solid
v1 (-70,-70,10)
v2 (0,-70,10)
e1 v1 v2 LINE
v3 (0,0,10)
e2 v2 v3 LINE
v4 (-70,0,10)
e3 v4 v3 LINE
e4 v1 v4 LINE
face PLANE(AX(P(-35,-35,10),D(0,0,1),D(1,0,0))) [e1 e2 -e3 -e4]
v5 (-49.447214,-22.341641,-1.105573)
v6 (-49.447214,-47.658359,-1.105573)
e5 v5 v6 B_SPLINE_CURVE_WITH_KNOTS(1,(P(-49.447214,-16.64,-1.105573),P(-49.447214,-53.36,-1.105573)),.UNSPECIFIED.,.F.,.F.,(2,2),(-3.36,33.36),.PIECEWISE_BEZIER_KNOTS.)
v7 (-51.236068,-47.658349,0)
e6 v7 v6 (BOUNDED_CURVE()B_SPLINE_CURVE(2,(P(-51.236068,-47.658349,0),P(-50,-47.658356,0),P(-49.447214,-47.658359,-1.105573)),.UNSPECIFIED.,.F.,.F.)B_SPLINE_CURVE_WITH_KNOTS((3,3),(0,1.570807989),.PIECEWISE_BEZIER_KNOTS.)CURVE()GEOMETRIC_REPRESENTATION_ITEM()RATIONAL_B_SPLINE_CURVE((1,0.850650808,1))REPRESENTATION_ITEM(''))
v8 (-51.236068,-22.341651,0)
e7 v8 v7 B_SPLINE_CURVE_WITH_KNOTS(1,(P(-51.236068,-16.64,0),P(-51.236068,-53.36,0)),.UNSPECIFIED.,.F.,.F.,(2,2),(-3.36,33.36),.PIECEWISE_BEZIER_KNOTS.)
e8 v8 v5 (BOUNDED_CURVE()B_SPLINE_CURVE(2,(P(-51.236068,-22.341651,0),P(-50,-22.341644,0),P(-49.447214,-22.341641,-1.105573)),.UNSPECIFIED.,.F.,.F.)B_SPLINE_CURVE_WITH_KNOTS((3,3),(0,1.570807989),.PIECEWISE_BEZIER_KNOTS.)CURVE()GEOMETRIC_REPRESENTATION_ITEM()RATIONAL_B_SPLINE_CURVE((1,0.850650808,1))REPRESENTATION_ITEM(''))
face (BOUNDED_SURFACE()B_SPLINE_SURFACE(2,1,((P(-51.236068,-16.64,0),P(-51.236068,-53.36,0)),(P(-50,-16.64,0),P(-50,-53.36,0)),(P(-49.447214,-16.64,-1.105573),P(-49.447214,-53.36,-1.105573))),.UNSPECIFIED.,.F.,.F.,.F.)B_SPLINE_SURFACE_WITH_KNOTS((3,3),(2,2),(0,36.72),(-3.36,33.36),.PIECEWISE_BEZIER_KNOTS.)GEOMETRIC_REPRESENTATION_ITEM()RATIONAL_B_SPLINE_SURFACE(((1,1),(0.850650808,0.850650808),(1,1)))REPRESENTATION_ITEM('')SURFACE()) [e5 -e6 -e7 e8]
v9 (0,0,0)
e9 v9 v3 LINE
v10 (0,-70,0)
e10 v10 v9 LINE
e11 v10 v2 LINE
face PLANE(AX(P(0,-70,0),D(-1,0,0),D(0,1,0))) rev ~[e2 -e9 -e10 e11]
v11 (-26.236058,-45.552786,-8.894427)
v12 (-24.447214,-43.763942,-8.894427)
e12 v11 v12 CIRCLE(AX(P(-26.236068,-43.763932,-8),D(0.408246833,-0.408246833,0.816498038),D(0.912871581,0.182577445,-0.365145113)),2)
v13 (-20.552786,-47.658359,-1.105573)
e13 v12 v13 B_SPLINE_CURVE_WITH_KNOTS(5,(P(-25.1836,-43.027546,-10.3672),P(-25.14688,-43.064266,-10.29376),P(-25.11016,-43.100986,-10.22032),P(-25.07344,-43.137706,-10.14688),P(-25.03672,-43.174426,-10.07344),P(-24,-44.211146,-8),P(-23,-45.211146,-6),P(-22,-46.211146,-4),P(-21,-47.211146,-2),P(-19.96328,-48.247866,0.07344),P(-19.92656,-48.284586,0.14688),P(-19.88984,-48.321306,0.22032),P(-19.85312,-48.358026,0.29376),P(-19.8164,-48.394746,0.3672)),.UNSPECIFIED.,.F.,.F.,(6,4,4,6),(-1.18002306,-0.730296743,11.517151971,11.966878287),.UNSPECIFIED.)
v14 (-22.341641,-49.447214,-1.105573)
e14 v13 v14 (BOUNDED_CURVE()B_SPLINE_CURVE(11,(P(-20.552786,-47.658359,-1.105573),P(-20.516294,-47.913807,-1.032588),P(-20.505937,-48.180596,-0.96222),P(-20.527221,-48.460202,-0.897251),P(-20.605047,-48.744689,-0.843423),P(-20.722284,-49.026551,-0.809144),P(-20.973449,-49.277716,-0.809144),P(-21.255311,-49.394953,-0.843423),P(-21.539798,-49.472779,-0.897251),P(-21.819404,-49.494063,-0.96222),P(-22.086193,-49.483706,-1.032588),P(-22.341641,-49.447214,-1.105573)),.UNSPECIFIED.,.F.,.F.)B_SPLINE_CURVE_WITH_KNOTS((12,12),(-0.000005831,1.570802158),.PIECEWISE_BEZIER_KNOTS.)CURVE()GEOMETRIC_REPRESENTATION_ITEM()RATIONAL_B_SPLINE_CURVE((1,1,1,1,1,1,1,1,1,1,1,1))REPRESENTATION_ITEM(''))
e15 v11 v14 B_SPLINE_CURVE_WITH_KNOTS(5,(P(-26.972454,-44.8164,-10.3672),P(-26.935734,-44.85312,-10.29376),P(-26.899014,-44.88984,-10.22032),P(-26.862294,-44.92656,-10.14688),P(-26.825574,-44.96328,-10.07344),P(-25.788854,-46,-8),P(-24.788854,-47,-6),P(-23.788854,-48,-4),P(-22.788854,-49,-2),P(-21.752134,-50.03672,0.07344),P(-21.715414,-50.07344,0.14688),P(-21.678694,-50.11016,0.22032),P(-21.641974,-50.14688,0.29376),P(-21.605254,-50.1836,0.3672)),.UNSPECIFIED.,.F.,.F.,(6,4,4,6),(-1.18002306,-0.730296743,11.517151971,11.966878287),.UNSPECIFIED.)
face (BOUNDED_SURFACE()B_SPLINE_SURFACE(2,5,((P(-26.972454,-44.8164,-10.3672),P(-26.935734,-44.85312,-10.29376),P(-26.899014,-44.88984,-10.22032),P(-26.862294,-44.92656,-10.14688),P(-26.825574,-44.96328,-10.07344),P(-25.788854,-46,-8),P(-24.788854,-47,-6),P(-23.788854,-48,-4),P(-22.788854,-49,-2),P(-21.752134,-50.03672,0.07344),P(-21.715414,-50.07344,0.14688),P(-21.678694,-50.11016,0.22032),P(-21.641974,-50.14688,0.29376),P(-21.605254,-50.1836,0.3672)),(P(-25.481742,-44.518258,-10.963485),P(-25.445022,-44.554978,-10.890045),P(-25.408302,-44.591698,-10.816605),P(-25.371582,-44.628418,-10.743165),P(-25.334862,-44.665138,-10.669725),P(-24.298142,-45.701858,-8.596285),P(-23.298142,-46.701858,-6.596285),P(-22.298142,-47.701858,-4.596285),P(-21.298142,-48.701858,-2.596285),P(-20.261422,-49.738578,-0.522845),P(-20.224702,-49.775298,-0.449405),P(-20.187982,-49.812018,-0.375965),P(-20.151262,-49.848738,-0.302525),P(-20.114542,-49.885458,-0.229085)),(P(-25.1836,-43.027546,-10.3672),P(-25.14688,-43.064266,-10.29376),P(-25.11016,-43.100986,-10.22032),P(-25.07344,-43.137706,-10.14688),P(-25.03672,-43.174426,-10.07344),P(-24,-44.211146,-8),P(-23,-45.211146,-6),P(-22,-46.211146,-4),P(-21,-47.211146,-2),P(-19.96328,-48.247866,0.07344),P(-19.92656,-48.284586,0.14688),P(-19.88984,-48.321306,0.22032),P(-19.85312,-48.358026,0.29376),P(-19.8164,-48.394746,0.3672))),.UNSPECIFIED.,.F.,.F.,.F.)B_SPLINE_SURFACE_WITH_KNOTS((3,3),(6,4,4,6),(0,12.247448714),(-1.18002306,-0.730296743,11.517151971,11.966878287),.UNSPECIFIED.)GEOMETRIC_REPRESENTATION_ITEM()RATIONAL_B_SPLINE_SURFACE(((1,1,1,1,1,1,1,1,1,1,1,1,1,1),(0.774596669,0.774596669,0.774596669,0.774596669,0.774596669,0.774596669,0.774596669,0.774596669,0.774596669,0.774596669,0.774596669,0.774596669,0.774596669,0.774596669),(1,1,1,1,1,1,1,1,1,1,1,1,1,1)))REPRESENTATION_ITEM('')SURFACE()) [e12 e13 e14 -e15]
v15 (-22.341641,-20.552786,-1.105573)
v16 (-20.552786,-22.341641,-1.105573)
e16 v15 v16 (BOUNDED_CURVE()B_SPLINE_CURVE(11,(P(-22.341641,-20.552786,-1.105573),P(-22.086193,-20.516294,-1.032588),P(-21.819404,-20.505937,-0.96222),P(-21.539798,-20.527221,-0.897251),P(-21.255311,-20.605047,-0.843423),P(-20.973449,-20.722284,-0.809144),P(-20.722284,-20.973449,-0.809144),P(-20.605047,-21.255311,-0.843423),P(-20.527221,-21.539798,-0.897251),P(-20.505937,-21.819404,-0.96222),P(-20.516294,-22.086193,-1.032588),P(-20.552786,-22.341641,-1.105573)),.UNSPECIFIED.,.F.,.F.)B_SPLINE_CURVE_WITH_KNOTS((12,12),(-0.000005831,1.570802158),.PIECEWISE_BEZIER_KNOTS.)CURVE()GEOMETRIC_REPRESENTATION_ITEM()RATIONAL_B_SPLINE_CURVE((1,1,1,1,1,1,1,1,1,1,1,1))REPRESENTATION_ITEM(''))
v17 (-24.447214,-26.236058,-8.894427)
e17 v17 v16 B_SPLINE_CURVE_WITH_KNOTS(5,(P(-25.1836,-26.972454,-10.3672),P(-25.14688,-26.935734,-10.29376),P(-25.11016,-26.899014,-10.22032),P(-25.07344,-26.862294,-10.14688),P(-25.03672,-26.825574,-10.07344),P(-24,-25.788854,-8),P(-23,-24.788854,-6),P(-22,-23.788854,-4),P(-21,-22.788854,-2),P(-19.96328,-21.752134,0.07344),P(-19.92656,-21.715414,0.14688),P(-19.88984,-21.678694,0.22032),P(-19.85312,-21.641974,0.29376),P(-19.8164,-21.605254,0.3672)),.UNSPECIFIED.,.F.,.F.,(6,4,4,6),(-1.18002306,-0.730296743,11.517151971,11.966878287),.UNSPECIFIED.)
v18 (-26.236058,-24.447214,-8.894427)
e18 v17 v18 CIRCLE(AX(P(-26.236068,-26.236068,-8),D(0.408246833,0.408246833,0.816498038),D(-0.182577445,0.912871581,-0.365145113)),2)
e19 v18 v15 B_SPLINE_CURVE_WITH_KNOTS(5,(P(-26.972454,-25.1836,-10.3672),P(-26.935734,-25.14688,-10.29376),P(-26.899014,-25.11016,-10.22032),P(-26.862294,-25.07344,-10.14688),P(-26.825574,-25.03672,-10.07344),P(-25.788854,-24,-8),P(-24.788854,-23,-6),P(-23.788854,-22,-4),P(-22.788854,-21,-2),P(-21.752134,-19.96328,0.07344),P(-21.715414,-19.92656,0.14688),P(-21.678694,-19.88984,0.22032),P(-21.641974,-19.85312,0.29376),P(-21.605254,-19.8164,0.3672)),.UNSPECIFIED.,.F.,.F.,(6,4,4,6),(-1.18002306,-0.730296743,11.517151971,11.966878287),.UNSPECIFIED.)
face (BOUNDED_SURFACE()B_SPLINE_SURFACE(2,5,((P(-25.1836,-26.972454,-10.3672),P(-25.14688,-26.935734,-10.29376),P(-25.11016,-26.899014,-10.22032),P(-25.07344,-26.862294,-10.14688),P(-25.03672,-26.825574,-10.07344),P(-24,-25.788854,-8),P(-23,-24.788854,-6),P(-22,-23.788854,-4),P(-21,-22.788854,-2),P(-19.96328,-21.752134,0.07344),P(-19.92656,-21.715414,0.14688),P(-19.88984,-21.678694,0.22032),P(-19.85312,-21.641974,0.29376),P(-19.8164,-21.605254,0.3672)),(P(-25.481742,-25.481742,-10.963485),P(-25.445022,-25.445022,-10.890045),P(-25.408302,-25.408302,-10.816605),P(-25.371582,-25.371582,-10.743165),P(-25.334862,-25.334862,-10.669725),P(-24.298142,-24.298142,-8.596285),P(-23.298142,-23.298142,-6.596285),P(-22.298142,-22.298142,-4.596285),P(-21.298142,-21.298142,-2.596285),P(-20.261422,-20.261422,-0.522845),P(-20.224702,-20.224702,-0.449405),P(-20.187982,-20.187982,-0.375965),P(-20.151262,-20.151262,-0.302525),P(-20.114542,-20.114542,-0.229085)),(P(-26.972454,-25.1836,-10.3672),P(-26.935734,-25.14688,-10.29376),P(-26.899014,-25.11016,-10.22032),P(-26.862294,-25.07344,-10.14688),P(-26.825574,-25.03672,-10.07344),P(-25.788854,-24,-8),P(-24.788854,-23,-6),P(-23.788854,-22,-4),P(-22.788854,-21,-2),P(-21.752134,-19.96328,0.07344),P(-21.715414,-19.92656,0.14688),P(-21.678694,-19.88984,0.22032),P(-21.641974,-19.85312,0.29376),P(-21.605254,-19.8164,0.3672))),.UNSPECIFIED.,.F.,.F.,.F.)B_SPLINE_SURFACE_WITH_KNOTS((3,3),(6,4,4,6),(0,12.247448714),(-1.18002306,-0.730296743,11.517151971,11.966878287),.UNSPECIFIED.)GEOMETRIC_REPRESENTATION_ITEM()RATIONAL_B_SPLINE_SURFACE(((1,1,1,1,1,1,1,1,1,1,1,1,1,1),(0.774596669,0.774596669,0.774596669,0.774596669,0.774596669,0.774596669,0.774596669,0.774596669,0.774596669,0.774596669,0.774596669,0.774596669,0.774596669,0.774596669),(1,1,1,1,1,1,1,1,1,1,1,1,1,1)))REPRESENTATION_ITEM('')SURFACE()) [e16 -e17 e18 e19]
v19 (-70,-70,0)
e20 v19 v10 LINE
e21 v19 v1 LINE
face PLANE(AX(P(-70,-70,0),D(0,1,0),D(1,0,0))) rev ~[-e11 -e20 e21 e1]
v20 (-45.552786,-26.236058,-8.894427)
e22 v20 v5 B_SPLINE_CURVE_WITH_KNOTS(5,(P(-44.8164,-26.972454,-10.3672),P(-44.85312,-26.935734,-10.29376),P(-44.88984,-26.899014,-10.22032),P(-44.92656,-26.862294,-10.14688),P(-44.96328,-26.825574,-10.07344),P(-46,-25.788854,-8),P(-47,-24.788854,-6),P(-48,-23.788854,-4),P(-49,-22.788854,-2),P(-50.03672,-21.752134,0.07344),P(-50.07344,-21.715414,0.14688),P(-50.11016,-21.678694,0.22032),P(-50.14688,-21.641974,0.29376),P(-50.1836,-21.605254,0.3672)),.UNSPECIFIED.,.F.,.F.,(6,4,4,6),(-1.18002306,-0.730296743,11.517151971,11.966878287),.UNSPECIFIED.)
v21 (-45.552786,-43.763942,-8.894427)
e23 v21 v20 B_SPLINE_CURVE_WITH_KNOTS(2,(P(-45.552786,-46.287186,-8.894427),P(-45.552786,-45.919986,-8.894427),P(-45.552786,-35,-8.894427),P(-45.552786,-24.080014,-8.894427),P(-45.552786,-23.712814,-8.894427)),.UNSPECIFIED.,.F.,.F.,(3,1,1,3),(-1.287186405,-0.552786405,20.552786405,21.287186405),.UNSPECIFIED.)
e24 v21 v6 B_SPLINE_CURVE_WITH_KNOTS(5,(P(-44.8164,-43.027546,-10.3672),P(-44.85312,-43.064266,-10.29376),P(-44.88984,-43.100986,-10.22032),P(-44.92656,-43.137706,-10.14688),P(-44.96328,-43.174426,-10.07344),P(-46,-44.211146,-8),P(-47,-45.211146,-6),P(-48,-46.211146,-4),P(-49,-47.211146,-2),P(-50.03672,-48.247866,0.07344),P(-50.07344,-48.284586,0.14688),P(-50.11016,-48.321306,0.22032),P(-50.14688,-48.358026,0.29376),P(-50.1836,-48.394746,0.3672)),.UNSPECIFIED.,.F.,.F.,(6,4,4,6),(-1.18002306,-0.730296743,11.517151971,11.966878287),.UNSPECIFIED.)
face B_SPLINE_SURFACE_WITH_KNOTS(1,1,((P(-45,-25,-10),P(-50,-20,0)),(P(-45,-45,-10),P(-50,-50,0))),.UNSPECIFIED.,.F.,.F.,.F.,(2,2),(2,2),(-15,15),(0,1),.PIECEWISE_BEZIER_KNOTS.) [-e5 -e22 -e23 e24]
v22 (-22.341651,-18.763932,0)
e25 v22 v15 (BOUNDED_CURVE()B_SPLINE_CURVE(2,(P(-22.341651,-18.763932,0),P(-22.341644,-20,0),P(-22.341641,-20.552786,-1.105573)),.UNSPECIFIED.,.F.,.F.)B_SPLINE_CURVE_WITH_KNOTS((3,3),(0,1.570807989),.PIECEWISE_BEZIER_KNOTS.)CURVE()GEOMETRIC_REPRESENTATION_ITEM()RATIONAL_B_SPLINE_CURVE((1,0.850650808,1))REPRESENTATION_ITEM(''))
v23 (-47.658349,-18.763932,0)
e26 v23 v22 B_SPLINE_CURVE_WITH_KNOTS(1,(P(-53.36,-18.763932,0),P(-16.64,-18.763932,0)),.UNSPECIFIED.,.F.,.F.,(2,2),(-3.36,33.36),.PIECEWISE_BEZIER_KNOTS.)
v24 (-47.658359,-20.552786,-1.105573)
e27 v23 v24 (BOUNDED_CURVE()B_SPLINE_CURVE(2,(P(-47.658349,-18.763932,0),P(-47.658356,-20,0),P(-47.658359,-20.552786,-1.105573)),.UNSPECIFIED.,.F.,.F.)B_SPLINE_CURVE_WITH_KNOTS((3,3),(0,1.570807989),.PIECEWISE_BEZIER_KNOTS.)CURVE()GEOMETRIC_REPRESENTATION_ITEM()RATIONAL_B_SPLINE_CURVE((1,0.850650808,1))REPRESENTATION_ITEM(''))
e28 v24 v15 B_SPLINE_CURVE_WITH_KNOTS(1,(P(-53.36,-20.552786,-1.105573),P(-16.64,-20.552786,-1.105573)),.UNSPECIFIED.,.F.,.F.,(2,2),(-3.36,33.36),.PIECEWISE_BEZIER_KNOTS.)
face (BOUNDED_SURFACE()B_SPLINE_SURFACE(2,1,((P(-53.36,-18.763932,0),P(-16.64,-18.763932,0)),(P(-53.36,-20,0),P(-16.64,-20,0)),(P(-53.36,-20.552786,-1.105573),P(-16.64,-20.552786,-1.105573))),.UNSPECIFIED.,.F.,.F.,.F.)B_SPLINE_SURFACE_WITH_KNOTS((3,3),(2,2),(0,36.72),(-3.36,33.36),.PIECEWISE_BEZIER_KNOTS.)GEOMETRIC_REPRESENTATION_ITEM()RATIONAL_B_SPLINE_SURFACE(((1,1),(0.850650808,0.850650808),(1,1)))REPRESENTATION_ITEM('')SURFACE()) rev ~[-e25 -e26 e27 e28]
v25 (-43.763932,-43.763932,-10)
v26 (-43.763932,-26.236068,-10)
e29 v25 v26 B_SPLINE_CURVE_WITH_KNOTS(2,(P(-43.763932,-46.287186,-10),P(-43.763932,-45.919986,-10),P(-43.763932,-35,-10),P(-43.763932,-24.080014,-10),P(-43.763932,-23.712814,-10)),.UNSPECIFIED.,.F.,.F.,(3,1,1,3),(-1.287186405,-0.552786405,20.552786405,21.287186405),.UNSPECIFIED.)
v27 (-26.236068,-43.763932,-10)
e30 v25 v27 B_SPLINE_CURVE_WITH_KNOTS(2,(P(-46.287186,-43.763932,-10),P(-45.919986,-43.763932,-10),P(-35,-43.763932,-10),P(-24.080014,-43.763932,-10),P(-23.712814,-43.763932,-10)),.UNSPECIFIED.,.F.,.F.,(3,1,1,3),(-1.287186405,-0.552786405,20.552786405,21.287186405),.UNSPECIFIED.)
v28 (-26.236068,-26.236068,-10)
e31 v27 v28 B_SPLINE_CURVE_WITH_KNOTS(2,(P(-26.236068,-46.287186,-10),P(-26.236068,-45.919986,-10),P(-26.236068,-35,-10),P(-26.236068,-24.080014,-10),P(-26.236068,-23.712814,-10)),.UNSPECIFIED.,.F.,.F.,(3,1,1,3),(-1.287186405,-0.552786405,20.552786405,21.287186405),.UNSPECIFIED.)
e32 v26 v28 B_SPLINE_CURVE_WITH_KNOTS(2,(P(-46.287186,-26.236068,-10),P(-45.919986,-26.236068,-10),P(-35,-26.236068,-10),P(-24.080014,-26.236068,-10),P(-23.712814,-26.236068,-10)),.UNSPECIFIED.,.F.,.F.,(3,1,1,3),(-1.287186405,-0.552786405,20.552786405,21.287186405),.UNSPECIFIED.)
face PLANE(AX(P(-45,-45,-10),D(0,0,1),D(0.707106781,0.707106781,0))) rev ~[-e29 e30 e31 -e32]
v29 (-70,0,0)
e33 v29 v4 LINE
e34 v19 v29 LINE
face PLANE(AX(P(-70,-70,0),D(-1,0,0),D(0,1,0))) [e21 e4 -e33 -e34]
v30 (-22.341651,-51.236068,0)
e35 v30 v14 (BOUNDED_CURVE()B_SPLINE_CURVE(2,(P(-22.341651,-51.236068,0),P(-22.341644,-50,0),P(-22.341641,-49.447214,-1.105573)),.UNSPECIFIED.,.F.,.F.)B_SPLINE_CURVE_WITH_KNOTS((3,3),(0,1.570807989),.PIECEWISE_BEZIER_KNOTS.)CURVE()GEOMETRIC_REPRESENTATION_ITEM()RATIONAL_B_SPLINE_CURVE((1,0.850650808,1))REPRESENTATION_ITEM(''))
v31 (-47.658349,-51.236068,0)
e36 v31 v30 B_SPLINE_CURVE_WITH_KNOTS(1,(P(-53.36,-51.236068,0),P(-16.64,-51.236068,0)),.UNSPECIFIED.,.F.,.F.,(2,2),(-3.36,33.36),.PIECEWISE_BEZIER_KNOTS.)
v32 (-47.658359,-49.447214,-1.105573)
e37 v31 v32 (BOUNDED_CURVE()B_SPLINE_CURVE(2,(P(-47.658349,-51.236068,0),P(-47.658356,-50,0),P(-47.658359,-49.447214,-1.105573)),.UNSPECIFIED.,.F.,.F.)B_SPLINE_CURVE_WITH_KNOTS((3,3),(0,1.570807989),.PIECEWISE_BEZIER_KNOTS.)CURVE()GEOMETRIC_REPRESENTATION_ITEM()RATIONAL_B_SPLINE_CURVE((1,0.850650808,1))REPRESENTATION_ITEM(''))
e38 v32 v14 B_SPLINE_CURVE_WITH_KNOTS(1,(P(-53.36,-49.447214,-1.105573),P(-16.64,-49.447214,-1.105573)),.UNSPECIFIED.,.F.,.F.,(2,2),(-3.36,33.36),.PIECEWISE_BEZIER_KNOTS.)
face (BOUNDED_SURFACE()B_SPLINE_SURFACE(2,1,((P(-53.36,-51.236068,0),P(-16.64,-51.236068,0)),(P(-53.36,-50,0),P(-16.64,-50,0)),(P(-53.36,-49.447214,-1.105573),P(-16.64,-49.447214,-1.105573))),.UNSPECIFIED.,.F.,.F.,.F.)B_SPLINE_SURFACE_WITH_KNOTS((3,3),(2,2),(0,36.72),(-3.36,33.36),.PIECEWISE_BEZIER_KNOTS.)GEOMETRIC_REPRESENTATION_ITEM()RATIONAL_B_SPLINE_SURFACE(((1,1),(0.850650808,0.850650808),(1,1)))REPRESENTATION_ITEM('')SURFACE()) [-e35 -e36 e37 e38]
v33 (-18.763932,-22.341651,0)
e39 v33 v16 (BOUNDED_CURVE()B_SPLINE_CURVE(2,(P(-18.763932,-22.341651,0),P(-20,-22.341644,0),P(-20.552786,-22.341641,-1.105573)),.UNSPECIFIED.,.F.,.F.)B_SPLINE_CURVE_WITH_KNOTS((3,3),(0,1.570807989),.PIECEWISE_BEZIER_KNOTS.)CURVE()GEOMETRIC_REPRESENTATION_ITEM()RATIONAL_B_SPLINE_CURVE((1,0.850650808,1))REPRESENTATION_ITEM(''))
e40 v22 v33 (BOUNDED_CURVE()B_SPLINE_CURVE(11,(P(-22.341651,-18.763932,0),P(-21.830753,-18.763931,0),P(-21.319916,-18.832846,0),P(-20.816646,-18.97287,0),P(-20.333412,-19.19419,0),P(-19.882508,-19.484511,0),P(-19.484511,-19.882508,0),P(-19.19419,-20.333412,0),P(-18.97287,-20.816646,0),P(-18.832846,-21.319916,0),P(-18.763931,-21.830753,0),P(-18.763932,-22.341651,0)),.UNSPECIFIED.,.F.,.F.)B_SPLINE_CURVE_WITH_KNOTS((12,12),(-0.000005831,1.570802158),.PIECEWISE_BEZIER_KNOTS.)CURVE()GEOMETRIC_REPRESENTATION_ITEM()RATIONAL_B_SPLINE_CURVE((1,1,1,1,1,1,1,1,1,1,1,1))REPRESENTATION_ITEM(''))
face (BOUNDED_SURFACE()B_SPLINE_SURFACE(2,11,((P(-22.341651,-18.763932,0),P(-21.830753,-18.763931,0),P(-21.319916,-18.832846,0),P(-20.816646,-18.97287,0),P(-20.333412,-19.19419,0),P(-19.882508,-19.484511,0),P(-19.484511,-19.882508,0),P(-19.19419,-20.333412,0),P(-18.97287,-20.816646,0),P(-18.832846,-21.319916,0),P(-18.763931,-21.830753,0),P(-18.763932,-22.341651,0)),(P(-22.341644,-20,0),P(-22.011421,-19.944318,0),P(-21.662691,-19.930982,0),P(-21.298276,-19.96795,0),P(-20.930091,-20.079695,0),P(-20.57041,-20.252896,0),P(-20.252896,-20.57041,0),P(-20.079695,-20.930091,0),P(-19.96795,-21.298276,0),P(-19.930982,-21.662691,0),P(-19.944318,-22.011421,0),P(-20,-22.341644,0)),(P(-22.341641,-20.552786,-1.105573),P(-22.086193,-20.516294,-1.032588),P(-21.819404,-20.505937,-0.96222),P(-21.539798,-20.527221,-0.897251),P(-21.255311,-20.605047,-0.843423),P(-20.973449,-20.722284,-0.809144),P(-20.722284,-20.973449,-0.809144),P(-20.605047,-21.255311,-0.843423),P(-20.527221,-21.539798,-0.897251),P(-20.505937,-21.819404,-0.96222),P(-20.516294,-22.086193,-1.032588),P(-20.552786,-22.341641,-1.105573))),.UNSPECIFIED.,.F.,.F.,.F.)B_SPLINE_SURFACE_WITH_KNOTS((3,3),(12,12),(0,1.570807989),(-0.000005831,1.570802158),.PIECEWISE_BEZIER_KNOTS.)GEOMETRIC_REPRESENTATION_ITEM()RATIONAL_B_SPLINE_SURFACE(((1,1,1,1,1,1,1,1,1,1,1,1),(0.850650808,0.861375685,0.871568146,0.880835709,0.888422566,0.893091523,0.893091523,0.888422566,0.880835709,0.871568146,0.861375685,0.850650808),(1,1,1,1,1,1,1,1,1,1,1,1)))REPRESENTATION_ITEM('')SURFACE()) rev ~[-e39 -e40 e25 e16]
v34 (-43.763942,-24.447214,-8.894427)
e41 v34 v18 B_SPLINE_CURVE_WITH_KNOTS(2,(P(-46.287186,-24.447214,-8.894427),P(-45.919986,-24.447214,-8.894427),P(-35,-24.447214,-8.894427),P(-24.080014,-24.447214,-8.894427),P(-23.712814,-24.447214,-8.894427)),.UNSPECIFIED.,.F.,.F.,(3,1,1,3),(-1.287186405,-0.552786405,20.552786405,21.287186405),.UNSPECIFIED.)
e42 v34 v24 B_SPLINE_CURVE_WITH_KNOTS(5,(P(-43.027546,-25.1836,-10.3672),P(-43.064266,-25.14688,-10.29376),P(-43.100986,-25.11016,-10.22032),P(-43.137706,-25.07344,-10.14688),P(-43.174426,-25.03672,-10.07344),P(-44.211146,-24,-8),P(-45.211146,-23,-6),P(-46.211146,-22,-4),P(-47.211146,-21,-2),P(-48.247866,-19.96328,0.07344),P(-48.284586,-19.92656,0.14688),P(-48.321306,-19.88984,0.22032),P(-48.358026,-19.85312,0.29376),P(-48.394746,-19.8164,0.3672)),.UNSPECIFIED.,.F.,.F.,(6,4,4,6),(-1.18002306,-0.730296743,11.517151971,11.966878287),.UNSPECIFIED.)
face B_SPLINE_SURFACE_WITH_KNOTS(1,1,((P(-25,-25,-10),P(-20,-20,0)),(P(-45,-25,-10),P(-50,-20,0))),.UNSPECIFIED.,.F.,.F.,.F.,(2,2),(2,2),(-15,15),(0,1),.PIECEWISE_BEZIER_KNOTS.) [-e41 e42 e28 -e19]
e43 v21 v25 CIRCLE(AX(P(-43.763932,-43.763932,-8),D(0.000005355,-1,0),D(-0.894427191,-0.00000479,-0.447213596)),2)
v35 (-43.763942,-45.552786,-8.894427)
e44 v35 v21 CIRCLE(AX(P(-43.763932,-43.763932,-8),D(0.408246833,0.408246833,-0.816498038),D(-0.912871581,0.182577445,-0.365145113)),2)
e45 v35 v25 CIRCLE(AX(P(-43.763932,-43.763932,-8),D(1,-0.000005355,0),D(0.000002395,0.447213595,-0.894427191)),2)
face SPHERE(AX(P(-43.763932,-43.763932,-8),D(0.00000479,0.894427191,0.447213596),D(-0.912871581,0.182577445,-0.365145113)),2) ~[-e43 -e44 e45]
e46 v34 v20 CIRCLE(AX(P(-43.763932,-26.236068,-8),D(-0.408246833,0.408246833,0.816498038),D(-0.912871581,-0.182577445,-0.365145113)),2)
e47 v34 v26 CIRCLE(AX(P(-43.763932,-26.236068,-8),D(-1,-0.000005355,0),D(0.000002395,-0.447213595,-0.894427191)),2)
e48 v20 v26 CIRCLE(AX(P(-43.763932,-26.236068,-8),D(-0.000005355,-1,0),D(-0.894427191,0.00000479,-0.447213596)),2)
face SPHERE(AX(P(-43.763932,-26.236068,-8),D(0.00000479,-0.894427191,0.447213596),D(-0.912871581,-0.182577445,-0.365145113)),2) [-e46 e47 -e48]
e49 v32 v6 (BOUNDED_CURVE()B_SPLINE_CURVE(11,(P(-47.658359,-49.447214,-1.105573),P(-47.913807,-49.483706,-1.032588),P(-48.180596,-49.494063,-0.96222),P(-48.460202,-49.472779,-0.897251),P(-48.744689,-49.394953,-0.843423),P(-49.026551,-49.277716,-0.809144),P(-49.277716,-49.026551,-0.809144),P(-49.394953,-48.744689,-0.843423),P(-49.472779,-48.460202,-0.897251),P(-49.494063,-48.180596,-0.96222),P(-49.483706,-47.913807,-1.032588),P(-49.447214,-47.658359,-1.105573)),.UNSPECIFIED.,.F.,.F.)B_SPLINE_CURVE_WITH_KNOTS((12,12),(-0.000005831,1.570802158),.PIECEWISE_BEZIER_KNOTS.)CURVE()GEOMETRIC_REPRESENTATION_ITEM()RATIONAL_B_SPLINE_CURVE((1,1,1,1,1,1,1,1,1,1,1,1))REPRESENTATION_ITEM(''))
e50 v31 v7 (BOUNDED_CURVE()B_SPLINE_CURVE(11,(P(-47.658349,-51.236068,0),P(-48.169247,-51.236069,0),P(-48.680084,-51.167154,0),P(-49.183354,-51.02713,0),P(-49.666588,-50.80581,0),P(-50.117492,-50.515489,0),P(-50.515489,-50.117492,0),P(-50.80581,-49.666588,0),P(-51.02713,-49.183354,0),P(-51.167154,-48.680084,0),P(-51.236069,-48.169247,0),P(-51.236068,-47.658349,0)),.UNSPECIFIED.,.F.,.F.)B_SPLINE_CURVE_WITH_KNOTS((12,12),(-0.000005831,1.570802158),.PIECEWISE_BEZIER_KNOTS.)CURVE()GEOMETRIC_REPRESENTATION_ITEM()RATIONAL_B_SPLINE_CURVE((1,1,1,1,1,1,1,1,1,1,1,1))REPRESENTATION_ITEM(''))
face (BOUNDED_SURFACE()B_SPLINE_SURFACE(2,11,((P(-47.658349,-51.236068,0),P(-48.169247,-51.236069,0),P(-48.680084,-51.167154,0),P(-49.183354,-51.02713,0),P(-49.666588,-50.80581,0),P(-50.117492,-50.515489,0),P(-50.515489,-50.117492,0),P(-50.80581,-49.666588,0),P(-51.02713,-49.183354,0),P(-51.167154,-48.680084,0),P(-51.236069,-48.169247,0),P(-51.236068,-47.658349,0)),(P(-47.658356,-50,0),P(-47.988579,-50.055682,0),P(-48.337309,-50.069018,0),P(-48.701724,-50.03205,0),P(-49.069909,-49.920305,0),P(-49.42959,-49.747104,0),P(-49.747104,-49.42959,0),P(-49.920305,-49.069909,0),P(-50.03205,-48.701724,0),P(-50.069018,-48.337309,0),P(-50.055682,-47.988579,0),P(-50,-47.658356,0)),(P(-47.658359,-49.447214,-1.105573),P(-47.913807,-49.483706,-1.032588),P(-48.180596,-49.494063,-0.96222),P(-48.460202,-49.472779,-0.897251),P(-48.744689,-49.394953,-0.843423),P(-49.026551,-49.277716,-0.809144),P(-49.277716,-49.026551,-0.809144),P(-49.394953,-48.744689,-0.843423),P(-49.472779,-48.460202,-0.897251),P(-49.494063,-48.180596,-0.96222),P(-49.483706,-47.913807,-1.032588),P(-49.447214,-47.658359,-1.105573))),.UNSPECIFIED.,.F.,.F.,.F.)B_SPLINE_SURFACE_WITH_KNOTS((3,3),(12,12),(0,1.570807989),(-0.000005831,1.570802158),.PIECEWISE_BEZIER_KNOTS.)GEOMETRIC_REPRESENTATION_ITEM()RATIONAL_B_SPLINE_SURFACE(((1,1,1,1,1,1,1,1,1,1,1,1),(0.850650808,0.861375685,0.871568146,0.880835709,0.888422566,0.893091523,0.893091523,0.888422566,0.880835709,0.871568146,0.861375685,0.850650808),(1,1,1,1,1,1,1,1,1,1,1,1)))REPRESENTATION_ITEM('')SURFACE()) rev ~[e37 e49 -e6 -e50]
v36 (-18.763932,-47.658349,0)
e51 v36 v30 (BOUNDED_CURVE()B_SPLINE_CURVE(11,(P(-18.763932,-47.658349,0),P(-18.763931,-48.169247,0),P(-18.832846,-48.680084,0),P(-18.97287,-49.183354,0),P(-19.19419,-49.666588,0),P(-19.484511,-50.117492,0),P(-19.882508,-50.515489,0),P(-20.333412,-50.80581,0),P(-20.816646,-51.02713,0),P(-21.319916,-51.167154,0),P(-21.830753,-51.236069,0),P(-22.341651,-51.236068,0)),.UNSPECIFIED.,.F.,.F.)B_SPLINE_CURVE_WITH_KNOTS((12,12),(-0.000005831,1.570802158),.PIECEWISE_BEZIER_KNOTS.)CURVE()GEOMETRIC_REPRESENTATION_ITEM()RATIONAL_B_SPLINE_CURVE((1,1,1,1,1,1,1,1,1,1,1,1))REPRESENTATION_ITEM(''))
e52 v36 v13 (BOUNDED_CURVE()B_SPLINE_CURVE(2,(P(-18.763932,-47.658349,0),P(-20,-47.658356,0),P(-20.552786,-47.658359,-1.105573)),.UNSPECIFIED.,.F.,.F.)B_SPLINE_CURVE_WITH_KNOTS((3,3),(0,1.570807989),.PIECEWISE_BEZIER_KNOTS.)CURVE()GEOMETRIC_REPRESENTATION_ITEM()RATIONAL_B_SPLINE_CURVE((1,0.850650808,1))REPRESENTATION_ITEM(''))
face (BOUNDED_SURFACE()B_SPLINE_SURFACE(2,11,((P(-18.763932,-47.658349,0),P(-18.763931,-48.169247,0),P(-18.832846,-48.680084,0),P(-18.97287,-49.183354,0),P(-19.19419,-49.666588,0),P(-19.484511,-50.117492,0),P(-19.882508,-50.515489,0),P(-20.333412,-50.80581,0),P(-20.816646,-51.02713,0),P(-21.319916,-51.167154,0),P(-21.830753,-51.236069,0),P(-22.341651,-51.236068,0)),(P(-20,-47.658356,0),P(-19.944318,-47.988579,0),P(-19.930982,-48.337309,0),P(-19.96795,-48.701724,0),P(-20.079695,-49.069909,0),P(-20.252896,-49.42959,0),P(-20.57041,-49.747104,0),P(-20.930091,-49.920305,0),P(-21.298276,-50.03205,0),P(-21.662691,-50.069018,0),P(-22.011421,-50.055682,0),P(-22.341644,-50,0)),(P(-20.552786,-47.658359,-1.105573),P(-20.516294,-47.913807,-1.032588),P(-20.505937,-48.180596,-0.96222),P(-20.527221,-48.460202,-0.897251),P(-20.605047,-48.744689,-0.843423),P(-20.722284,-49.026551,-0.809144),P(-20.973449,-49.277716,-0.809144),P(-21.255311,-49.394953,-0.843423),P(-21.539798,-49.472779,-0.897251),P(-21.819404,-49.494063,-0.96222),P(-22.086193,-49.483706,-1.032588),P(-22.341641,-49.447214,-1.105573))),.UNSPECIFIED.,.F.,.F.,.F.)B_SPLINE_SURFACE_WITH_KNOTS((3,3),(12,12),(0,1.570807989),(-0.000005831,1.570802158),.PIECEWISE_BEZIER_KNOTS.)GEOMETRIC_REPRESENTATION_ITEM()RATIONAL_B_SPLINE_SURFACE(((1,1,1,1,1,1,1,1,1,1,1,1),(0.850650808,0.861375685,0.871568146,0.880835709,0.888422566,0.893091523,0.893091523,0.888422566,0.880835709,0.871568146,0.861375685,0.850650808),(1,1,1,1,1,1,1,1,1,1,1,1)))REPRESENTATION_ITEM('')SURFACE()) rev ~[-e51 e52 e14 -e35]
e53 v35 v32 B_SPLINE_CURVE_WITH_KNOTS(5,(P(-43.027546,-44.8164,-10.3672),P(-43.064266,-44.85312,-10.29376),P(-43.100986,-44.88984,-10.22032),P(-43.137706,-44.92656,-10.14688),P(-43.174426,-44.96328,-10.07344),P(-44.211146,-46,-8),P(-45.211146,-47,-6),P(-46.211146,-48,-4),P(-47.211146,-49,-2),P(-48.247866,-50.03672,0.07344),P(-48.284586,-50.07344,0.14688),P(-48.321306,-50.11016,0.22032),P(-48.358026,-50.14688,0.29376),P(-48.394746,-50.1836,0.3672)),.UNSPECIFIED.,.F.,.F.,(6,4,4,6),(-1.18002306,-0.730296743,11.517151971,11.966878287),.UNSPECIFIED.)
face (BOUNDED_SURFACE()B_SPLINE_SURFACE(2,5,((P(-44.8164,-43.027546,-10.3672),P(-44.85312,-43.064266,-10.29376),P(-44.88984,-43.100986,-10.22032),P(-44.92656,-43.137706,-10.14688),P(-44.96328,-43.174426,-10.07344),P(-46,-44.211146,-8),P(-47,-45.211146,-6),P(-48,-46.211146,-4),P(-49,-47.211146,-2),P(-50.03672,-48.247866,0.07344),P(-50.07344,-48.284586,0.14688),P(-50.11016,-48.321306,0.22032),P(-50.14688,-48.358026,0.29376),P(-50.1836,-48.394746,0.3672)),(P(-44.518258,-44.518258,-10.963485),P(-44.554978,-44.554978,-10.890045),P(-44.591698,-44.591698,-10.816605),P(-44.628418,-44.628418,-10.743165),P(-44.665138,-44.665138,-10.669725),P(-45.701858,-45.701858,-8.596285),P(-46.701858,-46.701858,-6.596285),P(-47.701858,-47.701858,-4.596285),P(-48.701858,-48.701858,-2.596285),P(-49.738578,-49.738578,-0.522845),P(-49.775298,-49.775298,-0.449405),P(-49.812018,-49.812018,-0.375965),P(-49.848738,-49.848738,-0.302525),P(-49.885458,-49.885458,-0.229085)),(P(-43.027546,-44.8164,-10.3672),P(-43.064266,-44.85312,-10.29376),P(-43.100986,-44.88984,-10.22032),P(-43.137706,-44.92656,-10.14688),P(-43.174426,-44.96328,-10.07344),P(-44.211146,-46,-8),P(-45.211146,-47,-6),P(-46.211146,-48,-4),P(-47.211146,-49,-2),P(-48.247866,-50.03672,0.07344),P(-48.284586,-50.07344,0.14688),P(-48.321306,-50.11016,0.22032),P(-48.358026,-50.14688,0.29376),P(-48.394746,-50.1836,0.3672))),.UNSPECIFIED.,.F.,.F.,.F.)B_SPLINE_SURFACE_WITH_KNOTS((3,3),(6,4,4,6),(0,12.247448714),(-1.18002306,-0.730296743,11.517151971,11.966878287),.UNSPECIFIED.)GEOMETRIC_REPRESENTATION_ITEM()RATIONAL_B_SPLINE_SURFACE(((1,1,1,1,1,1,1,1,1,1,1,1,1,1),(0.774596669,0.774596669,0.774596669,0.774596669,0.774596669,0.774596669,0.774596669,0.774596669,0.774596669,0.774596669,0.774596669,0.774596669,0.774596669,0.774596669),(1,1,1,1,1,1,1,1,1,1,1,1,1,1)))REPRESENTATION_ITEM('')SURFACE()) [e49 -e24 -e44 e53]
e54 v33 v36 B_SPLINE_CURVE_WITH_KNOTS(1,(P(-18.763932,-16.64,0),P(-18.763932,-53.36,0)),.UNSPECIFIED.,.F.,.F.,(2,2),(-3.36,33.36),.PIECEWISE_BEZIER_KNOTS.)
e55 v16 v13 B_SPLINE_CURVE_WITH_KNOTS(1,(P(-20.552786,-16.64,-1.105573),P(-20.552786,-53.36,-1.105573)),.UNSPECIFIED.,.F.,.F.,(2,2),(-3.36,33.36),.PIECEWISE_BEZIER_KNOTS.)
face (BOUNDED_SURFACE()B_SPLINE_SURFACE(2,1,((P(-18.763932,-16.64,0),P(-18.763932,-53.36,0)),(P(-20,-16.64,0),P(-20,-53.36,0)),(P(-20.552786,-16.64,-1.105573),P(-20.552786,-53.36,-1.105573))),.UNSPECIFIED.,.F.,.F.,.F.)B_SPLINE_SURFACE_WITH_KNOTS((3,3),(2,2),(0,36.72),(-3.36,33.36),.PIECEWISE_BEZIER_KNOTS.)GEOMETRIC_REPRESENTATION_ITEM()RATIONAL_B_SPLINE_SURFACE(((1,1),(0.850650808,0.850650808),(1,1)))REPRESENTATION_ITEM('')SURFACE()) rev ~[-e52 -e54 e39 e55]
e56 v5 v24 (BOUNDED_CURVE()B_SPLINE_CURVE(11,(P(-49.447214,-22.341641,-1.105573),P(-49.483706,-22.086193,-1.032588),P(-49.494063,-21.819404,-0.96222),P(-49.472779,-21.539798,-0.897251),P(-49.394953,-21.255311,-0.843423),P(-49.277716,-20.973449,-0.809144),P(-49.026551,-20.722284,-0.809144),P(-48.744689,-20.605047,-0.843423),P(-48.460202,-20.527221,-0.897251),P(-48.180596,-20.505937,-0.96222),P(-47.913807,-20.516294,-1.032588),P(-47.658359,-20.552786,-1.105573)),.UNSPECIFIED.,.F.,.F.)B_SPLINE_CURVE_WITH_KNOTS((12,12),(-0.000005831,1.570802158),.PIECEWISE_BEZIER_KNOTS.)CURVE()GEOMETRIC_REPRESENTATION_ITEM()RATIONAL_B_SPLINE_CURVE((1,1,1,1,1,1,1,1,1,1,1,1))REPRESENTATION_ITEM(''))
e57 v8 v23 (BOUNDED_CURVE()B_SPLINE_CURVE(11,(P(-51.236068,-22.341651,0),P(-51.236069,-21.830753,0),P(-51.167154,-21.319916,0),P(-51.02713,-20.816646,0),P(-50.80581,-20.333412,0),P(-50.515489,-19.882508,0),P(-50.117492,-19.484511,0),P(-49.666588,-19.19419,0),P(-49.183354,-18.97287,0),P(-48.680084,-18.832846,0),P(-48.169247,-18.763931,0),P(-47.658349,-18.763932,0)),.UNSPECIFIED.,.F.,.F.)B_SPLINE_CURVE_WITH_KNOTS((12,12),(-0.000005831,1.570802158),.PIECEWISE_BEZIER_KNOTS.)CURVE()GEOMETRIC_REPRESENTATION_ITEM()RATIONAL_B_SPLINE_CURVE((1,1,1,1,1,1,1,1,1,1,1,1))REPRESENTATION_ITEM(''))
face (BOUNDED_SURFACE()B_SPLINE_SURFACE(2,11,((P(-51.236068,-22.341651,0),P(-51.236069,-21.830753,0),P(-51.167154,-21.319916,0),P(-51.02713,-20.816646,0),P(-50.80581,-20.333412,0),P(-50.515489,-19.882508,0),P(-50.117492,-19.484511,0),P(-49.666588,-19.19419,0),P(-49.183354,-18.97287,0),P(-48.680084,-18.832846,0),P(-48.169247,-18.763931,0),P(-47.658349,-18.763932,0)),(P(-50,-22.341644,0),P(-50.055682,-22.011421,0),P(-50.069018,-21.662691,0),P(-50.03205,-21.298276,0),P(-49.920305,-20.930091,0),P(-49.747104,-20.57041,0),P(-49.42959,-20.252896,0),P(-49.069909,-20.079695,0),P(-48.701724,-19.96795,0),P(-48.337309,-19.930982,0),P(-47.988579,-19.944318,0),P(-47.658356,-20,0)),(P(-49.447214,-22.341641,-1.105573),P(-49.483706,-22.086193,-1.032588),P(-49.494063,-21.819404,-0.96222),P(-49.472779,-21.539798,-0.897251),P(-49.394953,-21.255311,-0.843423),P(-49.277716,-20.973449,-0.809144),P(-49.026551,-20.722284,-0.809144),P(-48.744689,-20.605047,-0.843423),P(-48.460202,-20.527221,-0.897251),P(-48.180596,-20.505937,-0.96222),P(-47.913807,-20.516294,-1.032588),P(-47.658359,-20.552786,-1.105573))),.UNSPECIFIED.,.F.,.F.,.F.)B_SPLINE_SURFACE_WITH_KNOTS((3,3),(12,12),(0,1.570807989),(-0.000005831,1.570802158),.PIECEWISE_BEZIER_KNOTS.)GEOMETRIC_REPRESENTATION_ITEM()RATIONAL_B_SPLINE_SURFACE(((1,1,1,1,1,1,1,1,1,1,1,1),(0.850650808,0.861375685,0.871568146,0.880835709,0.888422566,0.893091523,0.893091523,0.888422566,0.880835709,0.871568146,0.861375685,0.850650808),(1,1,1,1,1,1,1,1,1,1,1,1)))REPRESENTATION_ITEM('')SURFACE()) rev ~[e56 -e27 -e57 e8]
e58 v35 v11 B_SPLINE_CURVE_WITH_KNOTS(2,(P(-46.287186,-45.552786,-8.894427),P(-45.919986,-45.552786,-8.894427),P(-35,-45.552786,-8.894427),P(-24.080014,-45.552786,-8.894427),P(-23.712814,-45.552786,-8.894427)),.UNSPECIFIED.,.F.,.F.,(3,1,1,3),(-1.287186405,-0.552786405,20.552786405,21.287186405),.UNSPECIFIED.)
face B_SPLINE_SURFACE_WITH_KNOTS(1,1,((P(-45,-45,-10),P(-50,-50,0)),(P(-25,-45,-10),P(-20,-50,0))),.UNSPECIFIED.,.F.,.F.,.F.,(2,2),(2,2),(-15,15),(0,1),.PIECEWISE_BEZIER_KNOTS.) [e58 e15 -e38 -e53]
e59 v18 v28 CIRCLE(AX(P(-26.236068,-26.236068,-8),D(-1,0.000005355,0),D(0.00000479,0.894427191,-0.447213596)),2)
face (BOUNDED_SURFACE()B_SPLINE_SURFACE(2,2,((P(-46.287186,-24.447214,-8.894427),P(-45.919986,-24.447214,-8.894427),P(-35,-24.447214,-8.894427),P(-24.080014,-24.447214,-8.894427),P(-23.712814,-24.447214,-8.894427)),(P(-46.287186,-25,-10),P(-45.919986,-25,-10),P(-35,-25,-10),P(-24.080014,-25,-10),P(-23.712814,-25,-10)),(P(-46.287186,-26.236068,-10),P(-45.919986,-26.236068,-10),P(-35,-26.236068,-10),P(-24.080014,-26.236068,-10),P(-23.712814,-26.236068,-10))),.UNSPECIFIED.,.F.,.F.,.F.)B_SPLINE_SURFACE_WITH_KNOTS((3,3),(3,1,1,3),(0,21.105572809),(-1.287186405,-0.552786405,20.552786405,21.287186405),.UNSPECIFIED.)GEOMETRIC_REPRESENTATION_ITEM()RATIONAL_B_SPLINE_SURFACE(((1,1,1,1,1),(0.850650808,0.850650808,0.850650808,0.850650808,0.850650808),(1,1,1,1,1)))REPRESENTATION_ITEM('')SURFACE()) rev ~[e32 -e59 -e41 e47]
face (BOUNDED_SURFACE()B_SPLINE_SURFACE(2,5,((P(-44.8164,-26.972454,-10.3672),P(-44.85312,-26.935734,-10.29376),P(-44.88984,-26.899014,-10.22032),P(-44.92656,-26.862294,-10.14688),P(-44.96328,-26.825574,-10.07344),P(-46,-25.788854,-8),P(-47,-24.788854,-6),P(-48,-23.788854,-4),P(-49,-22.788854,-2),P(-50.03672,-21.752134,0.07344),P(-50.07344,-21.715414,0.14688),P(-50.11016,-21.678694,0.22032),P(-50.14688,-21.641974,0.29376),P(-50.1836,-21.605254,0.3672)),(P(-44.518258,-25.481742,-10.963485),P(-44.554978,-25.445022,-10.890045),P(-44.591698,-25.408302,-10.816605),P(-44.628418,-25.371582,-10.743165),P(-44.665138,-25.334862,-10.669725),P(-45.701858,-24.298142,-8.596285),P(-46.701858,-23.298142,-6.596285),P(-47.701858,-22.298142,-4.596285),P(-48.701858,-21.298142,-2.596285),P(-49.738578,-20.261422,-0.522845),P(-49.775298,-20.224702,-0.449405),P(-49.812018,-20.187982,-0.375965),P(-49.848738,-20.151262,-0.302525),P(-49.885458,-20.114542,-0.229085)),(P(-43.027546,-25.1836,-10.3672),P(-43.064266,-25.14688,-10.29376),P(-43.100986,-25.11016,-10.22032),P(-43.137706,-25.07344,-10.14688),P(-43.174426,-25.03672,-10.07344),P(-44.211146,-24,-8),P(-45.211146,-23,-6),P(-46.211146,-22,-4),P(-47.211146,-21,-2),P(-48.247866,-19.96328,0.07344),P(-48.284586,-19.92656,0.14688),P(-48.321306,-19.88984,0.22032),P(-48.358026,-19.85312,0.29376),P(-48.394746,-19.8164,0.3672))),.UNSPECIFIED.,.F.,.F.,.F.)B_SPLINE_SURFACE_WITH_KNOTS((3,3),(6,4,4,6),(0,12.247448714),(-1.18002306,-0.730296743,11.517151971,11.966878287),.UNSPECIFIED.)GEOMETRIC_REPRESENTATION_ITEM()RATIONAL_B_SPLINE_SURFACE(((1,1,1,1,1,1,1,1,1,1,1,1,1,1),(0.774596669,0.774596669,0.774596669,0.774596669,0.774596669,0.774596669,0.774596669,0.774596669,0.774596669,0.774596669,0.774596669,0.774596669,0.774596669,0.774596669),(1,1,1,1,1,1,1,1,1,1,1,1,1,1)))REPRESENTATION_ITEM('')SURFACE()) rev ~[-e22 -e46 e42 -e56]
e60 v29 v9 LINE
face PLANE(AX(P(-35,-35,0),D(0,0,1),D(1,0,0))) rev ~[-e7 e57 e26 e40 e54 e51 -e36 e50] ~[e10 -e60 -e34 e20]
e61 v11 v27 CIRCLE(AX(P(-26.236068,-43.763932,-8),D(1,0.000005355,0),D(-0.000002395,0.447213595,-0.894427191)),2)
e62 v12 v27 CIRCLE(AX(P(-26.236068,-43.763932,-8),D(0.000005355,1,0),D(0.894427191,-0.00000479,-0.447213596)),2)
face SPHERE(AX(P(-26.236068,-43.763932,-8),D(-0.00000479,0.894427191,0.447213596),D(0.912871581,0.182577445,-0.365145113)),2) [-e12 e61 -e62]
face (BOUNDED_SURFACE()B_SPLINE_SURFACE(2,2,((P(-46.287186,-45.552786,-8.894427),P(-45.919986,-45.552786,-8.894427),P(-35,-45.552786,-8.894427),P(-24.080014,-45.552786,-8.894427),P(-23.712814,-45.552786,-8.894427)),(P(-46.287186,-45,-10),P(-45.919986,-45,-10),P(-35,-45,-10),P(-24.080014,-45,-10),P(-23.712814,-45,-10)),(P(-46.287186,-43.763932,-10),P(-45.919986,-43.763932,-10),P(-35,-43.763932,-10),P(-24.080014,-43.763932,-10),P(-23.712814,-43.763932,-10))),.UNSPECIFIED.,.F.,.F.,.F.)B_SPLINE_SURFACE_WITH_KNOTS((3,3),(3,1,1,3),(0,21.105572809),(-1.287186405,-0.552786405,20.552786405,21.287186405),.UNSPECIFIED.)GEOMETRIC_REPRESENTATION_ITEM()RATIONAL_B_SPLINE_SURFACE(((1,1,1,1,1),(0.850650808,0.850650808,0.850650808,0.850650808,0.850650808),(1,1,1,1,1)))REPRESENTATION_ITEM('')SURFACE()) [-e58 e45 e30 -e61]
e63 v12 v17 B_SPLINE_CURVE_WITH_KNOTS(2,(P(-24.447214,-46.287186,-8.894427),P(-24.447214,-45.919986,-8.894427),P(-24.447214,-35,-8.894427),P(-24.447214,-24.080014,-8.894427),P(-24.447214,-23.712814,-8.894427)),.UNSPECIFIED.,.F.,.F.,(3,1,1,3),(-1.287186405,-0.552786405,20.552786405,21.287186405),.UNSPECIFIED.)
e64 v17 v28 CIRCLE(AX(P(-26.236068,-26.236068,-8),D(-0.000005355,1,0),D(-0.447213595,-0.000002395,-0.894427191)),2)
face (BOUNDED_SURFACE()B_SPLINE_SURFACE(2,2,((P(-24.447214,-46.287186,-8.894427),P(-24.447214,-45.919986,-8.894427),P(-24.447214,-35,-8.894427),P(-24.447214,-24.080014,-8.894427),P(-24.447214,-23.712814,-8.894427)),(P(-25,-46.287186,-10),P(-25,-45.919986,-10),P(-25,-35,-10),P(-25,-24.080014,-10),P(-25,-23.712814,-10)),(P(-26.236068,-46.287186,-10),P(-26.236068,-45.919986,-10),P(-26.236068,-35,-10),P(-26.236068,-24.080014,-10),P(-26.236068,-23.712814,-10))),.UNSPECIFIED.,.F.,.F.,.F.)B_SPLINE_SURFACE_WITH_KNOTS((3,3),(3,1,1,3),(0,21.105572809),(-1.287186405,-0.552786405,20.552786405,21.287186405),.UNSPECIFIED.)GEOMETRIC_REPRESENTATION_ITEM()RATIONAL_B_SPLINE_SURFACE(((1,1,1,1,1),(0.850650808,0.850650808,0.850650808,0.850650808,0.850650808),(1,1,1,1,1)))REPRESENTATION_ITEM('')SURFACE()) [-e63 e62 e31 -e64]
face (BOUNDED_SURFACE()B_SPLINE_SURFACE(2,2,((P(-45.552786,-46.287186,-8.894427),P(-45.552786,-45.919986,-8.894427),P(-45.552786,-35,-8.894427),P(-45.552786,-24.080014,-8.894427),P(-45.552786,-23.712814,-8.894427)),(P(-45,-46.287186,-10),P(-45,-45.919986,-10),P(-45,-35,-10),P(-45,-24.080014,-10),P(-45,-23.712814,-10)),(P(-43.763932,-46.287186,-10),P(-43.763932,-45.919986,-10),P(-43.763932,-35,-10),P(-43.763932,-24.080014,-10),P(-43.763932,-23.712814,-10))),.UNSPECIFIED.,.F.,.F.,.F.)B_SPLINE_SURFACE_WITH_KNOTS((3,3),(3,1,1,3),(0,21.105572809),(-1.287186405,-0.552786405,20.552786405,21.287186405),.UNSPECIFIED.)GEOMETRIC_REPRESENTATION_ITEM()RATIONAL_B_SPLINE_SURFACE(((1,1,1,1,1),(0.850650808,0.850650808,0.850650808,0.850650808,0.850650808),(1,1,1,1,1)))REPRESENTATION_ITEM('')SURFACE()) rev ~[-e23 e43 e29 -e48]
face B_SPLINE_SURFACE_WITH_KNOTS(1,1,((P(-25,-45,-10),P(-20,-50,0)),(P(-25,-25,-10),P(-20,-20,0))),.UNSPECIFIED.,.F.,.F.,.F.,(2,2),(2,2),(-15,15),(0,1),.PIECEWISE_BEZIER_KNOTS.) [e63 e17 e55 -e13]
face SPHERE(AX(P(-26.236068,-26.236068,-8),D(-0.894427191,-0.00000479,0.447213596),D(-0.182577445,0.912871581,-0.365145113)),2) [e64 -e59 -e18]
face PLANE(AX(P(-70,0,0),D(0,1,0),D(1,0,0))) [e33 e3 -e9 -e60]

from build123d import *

# Parameters (mm, degrees)
SKETCH_W    = 70
SKETCH_H    = 70
PAD_DEPTH   = 10
SKETCH004_W = 20
SKETCH004_H = 20
SKETCH003_W = 30
SKETCH003_H = 30
FILLET_R    = 2


with BuildPart() as part:
    # Sketch → Pad (new body)
    with BuildSketch(Plane.XY):
        with Locations((-35, -35)):
            Rectangle(SKETCH_W, SKETCH_H)
    extrude(amount=PAD_DEPTH)

    # Sketch004 (on DatumPlane) → AdditiveLoft section 0
    with BuildSketch(Plane.XY.offset(-10)):
        with Locations((-35, -35)):
            Rectangle(SKETCH004_W, SKETCH004_H)
    # Sketch003 (on Face5 of Pad) → AdditiveLoft section 1
    with BuildSketch(Plane(origin=(0, 0, 0), x_dir=(1, 0, 0), z_dir=(0, 0, -1))):
        with Locations((-35, 35)):
            Rectangle(SKETCH003_W, SKETCH003_H)
    loft()

    # Fillet
    fillet_edges = [part.edges().sort_by_distance(p)[0] for p in [
        (-45, -35, -10),
        (-47.5, -22.5, -5),
        (-50, -35, 0),
        (-47.5, -47.5, -5),
        (-35, -25, -10),
        (-22.5, -22.5, -5),
        (-35, -20, 0),
        (-25, -35, -10),
        (-22.5, -47.5, -5),
        (-20, -35, 0),
        (-35, -45, -10),
        (-35, -50, 0),
    ]]
    fillet(fillet_edges, radius=FILLET_R)


solid = part.part
